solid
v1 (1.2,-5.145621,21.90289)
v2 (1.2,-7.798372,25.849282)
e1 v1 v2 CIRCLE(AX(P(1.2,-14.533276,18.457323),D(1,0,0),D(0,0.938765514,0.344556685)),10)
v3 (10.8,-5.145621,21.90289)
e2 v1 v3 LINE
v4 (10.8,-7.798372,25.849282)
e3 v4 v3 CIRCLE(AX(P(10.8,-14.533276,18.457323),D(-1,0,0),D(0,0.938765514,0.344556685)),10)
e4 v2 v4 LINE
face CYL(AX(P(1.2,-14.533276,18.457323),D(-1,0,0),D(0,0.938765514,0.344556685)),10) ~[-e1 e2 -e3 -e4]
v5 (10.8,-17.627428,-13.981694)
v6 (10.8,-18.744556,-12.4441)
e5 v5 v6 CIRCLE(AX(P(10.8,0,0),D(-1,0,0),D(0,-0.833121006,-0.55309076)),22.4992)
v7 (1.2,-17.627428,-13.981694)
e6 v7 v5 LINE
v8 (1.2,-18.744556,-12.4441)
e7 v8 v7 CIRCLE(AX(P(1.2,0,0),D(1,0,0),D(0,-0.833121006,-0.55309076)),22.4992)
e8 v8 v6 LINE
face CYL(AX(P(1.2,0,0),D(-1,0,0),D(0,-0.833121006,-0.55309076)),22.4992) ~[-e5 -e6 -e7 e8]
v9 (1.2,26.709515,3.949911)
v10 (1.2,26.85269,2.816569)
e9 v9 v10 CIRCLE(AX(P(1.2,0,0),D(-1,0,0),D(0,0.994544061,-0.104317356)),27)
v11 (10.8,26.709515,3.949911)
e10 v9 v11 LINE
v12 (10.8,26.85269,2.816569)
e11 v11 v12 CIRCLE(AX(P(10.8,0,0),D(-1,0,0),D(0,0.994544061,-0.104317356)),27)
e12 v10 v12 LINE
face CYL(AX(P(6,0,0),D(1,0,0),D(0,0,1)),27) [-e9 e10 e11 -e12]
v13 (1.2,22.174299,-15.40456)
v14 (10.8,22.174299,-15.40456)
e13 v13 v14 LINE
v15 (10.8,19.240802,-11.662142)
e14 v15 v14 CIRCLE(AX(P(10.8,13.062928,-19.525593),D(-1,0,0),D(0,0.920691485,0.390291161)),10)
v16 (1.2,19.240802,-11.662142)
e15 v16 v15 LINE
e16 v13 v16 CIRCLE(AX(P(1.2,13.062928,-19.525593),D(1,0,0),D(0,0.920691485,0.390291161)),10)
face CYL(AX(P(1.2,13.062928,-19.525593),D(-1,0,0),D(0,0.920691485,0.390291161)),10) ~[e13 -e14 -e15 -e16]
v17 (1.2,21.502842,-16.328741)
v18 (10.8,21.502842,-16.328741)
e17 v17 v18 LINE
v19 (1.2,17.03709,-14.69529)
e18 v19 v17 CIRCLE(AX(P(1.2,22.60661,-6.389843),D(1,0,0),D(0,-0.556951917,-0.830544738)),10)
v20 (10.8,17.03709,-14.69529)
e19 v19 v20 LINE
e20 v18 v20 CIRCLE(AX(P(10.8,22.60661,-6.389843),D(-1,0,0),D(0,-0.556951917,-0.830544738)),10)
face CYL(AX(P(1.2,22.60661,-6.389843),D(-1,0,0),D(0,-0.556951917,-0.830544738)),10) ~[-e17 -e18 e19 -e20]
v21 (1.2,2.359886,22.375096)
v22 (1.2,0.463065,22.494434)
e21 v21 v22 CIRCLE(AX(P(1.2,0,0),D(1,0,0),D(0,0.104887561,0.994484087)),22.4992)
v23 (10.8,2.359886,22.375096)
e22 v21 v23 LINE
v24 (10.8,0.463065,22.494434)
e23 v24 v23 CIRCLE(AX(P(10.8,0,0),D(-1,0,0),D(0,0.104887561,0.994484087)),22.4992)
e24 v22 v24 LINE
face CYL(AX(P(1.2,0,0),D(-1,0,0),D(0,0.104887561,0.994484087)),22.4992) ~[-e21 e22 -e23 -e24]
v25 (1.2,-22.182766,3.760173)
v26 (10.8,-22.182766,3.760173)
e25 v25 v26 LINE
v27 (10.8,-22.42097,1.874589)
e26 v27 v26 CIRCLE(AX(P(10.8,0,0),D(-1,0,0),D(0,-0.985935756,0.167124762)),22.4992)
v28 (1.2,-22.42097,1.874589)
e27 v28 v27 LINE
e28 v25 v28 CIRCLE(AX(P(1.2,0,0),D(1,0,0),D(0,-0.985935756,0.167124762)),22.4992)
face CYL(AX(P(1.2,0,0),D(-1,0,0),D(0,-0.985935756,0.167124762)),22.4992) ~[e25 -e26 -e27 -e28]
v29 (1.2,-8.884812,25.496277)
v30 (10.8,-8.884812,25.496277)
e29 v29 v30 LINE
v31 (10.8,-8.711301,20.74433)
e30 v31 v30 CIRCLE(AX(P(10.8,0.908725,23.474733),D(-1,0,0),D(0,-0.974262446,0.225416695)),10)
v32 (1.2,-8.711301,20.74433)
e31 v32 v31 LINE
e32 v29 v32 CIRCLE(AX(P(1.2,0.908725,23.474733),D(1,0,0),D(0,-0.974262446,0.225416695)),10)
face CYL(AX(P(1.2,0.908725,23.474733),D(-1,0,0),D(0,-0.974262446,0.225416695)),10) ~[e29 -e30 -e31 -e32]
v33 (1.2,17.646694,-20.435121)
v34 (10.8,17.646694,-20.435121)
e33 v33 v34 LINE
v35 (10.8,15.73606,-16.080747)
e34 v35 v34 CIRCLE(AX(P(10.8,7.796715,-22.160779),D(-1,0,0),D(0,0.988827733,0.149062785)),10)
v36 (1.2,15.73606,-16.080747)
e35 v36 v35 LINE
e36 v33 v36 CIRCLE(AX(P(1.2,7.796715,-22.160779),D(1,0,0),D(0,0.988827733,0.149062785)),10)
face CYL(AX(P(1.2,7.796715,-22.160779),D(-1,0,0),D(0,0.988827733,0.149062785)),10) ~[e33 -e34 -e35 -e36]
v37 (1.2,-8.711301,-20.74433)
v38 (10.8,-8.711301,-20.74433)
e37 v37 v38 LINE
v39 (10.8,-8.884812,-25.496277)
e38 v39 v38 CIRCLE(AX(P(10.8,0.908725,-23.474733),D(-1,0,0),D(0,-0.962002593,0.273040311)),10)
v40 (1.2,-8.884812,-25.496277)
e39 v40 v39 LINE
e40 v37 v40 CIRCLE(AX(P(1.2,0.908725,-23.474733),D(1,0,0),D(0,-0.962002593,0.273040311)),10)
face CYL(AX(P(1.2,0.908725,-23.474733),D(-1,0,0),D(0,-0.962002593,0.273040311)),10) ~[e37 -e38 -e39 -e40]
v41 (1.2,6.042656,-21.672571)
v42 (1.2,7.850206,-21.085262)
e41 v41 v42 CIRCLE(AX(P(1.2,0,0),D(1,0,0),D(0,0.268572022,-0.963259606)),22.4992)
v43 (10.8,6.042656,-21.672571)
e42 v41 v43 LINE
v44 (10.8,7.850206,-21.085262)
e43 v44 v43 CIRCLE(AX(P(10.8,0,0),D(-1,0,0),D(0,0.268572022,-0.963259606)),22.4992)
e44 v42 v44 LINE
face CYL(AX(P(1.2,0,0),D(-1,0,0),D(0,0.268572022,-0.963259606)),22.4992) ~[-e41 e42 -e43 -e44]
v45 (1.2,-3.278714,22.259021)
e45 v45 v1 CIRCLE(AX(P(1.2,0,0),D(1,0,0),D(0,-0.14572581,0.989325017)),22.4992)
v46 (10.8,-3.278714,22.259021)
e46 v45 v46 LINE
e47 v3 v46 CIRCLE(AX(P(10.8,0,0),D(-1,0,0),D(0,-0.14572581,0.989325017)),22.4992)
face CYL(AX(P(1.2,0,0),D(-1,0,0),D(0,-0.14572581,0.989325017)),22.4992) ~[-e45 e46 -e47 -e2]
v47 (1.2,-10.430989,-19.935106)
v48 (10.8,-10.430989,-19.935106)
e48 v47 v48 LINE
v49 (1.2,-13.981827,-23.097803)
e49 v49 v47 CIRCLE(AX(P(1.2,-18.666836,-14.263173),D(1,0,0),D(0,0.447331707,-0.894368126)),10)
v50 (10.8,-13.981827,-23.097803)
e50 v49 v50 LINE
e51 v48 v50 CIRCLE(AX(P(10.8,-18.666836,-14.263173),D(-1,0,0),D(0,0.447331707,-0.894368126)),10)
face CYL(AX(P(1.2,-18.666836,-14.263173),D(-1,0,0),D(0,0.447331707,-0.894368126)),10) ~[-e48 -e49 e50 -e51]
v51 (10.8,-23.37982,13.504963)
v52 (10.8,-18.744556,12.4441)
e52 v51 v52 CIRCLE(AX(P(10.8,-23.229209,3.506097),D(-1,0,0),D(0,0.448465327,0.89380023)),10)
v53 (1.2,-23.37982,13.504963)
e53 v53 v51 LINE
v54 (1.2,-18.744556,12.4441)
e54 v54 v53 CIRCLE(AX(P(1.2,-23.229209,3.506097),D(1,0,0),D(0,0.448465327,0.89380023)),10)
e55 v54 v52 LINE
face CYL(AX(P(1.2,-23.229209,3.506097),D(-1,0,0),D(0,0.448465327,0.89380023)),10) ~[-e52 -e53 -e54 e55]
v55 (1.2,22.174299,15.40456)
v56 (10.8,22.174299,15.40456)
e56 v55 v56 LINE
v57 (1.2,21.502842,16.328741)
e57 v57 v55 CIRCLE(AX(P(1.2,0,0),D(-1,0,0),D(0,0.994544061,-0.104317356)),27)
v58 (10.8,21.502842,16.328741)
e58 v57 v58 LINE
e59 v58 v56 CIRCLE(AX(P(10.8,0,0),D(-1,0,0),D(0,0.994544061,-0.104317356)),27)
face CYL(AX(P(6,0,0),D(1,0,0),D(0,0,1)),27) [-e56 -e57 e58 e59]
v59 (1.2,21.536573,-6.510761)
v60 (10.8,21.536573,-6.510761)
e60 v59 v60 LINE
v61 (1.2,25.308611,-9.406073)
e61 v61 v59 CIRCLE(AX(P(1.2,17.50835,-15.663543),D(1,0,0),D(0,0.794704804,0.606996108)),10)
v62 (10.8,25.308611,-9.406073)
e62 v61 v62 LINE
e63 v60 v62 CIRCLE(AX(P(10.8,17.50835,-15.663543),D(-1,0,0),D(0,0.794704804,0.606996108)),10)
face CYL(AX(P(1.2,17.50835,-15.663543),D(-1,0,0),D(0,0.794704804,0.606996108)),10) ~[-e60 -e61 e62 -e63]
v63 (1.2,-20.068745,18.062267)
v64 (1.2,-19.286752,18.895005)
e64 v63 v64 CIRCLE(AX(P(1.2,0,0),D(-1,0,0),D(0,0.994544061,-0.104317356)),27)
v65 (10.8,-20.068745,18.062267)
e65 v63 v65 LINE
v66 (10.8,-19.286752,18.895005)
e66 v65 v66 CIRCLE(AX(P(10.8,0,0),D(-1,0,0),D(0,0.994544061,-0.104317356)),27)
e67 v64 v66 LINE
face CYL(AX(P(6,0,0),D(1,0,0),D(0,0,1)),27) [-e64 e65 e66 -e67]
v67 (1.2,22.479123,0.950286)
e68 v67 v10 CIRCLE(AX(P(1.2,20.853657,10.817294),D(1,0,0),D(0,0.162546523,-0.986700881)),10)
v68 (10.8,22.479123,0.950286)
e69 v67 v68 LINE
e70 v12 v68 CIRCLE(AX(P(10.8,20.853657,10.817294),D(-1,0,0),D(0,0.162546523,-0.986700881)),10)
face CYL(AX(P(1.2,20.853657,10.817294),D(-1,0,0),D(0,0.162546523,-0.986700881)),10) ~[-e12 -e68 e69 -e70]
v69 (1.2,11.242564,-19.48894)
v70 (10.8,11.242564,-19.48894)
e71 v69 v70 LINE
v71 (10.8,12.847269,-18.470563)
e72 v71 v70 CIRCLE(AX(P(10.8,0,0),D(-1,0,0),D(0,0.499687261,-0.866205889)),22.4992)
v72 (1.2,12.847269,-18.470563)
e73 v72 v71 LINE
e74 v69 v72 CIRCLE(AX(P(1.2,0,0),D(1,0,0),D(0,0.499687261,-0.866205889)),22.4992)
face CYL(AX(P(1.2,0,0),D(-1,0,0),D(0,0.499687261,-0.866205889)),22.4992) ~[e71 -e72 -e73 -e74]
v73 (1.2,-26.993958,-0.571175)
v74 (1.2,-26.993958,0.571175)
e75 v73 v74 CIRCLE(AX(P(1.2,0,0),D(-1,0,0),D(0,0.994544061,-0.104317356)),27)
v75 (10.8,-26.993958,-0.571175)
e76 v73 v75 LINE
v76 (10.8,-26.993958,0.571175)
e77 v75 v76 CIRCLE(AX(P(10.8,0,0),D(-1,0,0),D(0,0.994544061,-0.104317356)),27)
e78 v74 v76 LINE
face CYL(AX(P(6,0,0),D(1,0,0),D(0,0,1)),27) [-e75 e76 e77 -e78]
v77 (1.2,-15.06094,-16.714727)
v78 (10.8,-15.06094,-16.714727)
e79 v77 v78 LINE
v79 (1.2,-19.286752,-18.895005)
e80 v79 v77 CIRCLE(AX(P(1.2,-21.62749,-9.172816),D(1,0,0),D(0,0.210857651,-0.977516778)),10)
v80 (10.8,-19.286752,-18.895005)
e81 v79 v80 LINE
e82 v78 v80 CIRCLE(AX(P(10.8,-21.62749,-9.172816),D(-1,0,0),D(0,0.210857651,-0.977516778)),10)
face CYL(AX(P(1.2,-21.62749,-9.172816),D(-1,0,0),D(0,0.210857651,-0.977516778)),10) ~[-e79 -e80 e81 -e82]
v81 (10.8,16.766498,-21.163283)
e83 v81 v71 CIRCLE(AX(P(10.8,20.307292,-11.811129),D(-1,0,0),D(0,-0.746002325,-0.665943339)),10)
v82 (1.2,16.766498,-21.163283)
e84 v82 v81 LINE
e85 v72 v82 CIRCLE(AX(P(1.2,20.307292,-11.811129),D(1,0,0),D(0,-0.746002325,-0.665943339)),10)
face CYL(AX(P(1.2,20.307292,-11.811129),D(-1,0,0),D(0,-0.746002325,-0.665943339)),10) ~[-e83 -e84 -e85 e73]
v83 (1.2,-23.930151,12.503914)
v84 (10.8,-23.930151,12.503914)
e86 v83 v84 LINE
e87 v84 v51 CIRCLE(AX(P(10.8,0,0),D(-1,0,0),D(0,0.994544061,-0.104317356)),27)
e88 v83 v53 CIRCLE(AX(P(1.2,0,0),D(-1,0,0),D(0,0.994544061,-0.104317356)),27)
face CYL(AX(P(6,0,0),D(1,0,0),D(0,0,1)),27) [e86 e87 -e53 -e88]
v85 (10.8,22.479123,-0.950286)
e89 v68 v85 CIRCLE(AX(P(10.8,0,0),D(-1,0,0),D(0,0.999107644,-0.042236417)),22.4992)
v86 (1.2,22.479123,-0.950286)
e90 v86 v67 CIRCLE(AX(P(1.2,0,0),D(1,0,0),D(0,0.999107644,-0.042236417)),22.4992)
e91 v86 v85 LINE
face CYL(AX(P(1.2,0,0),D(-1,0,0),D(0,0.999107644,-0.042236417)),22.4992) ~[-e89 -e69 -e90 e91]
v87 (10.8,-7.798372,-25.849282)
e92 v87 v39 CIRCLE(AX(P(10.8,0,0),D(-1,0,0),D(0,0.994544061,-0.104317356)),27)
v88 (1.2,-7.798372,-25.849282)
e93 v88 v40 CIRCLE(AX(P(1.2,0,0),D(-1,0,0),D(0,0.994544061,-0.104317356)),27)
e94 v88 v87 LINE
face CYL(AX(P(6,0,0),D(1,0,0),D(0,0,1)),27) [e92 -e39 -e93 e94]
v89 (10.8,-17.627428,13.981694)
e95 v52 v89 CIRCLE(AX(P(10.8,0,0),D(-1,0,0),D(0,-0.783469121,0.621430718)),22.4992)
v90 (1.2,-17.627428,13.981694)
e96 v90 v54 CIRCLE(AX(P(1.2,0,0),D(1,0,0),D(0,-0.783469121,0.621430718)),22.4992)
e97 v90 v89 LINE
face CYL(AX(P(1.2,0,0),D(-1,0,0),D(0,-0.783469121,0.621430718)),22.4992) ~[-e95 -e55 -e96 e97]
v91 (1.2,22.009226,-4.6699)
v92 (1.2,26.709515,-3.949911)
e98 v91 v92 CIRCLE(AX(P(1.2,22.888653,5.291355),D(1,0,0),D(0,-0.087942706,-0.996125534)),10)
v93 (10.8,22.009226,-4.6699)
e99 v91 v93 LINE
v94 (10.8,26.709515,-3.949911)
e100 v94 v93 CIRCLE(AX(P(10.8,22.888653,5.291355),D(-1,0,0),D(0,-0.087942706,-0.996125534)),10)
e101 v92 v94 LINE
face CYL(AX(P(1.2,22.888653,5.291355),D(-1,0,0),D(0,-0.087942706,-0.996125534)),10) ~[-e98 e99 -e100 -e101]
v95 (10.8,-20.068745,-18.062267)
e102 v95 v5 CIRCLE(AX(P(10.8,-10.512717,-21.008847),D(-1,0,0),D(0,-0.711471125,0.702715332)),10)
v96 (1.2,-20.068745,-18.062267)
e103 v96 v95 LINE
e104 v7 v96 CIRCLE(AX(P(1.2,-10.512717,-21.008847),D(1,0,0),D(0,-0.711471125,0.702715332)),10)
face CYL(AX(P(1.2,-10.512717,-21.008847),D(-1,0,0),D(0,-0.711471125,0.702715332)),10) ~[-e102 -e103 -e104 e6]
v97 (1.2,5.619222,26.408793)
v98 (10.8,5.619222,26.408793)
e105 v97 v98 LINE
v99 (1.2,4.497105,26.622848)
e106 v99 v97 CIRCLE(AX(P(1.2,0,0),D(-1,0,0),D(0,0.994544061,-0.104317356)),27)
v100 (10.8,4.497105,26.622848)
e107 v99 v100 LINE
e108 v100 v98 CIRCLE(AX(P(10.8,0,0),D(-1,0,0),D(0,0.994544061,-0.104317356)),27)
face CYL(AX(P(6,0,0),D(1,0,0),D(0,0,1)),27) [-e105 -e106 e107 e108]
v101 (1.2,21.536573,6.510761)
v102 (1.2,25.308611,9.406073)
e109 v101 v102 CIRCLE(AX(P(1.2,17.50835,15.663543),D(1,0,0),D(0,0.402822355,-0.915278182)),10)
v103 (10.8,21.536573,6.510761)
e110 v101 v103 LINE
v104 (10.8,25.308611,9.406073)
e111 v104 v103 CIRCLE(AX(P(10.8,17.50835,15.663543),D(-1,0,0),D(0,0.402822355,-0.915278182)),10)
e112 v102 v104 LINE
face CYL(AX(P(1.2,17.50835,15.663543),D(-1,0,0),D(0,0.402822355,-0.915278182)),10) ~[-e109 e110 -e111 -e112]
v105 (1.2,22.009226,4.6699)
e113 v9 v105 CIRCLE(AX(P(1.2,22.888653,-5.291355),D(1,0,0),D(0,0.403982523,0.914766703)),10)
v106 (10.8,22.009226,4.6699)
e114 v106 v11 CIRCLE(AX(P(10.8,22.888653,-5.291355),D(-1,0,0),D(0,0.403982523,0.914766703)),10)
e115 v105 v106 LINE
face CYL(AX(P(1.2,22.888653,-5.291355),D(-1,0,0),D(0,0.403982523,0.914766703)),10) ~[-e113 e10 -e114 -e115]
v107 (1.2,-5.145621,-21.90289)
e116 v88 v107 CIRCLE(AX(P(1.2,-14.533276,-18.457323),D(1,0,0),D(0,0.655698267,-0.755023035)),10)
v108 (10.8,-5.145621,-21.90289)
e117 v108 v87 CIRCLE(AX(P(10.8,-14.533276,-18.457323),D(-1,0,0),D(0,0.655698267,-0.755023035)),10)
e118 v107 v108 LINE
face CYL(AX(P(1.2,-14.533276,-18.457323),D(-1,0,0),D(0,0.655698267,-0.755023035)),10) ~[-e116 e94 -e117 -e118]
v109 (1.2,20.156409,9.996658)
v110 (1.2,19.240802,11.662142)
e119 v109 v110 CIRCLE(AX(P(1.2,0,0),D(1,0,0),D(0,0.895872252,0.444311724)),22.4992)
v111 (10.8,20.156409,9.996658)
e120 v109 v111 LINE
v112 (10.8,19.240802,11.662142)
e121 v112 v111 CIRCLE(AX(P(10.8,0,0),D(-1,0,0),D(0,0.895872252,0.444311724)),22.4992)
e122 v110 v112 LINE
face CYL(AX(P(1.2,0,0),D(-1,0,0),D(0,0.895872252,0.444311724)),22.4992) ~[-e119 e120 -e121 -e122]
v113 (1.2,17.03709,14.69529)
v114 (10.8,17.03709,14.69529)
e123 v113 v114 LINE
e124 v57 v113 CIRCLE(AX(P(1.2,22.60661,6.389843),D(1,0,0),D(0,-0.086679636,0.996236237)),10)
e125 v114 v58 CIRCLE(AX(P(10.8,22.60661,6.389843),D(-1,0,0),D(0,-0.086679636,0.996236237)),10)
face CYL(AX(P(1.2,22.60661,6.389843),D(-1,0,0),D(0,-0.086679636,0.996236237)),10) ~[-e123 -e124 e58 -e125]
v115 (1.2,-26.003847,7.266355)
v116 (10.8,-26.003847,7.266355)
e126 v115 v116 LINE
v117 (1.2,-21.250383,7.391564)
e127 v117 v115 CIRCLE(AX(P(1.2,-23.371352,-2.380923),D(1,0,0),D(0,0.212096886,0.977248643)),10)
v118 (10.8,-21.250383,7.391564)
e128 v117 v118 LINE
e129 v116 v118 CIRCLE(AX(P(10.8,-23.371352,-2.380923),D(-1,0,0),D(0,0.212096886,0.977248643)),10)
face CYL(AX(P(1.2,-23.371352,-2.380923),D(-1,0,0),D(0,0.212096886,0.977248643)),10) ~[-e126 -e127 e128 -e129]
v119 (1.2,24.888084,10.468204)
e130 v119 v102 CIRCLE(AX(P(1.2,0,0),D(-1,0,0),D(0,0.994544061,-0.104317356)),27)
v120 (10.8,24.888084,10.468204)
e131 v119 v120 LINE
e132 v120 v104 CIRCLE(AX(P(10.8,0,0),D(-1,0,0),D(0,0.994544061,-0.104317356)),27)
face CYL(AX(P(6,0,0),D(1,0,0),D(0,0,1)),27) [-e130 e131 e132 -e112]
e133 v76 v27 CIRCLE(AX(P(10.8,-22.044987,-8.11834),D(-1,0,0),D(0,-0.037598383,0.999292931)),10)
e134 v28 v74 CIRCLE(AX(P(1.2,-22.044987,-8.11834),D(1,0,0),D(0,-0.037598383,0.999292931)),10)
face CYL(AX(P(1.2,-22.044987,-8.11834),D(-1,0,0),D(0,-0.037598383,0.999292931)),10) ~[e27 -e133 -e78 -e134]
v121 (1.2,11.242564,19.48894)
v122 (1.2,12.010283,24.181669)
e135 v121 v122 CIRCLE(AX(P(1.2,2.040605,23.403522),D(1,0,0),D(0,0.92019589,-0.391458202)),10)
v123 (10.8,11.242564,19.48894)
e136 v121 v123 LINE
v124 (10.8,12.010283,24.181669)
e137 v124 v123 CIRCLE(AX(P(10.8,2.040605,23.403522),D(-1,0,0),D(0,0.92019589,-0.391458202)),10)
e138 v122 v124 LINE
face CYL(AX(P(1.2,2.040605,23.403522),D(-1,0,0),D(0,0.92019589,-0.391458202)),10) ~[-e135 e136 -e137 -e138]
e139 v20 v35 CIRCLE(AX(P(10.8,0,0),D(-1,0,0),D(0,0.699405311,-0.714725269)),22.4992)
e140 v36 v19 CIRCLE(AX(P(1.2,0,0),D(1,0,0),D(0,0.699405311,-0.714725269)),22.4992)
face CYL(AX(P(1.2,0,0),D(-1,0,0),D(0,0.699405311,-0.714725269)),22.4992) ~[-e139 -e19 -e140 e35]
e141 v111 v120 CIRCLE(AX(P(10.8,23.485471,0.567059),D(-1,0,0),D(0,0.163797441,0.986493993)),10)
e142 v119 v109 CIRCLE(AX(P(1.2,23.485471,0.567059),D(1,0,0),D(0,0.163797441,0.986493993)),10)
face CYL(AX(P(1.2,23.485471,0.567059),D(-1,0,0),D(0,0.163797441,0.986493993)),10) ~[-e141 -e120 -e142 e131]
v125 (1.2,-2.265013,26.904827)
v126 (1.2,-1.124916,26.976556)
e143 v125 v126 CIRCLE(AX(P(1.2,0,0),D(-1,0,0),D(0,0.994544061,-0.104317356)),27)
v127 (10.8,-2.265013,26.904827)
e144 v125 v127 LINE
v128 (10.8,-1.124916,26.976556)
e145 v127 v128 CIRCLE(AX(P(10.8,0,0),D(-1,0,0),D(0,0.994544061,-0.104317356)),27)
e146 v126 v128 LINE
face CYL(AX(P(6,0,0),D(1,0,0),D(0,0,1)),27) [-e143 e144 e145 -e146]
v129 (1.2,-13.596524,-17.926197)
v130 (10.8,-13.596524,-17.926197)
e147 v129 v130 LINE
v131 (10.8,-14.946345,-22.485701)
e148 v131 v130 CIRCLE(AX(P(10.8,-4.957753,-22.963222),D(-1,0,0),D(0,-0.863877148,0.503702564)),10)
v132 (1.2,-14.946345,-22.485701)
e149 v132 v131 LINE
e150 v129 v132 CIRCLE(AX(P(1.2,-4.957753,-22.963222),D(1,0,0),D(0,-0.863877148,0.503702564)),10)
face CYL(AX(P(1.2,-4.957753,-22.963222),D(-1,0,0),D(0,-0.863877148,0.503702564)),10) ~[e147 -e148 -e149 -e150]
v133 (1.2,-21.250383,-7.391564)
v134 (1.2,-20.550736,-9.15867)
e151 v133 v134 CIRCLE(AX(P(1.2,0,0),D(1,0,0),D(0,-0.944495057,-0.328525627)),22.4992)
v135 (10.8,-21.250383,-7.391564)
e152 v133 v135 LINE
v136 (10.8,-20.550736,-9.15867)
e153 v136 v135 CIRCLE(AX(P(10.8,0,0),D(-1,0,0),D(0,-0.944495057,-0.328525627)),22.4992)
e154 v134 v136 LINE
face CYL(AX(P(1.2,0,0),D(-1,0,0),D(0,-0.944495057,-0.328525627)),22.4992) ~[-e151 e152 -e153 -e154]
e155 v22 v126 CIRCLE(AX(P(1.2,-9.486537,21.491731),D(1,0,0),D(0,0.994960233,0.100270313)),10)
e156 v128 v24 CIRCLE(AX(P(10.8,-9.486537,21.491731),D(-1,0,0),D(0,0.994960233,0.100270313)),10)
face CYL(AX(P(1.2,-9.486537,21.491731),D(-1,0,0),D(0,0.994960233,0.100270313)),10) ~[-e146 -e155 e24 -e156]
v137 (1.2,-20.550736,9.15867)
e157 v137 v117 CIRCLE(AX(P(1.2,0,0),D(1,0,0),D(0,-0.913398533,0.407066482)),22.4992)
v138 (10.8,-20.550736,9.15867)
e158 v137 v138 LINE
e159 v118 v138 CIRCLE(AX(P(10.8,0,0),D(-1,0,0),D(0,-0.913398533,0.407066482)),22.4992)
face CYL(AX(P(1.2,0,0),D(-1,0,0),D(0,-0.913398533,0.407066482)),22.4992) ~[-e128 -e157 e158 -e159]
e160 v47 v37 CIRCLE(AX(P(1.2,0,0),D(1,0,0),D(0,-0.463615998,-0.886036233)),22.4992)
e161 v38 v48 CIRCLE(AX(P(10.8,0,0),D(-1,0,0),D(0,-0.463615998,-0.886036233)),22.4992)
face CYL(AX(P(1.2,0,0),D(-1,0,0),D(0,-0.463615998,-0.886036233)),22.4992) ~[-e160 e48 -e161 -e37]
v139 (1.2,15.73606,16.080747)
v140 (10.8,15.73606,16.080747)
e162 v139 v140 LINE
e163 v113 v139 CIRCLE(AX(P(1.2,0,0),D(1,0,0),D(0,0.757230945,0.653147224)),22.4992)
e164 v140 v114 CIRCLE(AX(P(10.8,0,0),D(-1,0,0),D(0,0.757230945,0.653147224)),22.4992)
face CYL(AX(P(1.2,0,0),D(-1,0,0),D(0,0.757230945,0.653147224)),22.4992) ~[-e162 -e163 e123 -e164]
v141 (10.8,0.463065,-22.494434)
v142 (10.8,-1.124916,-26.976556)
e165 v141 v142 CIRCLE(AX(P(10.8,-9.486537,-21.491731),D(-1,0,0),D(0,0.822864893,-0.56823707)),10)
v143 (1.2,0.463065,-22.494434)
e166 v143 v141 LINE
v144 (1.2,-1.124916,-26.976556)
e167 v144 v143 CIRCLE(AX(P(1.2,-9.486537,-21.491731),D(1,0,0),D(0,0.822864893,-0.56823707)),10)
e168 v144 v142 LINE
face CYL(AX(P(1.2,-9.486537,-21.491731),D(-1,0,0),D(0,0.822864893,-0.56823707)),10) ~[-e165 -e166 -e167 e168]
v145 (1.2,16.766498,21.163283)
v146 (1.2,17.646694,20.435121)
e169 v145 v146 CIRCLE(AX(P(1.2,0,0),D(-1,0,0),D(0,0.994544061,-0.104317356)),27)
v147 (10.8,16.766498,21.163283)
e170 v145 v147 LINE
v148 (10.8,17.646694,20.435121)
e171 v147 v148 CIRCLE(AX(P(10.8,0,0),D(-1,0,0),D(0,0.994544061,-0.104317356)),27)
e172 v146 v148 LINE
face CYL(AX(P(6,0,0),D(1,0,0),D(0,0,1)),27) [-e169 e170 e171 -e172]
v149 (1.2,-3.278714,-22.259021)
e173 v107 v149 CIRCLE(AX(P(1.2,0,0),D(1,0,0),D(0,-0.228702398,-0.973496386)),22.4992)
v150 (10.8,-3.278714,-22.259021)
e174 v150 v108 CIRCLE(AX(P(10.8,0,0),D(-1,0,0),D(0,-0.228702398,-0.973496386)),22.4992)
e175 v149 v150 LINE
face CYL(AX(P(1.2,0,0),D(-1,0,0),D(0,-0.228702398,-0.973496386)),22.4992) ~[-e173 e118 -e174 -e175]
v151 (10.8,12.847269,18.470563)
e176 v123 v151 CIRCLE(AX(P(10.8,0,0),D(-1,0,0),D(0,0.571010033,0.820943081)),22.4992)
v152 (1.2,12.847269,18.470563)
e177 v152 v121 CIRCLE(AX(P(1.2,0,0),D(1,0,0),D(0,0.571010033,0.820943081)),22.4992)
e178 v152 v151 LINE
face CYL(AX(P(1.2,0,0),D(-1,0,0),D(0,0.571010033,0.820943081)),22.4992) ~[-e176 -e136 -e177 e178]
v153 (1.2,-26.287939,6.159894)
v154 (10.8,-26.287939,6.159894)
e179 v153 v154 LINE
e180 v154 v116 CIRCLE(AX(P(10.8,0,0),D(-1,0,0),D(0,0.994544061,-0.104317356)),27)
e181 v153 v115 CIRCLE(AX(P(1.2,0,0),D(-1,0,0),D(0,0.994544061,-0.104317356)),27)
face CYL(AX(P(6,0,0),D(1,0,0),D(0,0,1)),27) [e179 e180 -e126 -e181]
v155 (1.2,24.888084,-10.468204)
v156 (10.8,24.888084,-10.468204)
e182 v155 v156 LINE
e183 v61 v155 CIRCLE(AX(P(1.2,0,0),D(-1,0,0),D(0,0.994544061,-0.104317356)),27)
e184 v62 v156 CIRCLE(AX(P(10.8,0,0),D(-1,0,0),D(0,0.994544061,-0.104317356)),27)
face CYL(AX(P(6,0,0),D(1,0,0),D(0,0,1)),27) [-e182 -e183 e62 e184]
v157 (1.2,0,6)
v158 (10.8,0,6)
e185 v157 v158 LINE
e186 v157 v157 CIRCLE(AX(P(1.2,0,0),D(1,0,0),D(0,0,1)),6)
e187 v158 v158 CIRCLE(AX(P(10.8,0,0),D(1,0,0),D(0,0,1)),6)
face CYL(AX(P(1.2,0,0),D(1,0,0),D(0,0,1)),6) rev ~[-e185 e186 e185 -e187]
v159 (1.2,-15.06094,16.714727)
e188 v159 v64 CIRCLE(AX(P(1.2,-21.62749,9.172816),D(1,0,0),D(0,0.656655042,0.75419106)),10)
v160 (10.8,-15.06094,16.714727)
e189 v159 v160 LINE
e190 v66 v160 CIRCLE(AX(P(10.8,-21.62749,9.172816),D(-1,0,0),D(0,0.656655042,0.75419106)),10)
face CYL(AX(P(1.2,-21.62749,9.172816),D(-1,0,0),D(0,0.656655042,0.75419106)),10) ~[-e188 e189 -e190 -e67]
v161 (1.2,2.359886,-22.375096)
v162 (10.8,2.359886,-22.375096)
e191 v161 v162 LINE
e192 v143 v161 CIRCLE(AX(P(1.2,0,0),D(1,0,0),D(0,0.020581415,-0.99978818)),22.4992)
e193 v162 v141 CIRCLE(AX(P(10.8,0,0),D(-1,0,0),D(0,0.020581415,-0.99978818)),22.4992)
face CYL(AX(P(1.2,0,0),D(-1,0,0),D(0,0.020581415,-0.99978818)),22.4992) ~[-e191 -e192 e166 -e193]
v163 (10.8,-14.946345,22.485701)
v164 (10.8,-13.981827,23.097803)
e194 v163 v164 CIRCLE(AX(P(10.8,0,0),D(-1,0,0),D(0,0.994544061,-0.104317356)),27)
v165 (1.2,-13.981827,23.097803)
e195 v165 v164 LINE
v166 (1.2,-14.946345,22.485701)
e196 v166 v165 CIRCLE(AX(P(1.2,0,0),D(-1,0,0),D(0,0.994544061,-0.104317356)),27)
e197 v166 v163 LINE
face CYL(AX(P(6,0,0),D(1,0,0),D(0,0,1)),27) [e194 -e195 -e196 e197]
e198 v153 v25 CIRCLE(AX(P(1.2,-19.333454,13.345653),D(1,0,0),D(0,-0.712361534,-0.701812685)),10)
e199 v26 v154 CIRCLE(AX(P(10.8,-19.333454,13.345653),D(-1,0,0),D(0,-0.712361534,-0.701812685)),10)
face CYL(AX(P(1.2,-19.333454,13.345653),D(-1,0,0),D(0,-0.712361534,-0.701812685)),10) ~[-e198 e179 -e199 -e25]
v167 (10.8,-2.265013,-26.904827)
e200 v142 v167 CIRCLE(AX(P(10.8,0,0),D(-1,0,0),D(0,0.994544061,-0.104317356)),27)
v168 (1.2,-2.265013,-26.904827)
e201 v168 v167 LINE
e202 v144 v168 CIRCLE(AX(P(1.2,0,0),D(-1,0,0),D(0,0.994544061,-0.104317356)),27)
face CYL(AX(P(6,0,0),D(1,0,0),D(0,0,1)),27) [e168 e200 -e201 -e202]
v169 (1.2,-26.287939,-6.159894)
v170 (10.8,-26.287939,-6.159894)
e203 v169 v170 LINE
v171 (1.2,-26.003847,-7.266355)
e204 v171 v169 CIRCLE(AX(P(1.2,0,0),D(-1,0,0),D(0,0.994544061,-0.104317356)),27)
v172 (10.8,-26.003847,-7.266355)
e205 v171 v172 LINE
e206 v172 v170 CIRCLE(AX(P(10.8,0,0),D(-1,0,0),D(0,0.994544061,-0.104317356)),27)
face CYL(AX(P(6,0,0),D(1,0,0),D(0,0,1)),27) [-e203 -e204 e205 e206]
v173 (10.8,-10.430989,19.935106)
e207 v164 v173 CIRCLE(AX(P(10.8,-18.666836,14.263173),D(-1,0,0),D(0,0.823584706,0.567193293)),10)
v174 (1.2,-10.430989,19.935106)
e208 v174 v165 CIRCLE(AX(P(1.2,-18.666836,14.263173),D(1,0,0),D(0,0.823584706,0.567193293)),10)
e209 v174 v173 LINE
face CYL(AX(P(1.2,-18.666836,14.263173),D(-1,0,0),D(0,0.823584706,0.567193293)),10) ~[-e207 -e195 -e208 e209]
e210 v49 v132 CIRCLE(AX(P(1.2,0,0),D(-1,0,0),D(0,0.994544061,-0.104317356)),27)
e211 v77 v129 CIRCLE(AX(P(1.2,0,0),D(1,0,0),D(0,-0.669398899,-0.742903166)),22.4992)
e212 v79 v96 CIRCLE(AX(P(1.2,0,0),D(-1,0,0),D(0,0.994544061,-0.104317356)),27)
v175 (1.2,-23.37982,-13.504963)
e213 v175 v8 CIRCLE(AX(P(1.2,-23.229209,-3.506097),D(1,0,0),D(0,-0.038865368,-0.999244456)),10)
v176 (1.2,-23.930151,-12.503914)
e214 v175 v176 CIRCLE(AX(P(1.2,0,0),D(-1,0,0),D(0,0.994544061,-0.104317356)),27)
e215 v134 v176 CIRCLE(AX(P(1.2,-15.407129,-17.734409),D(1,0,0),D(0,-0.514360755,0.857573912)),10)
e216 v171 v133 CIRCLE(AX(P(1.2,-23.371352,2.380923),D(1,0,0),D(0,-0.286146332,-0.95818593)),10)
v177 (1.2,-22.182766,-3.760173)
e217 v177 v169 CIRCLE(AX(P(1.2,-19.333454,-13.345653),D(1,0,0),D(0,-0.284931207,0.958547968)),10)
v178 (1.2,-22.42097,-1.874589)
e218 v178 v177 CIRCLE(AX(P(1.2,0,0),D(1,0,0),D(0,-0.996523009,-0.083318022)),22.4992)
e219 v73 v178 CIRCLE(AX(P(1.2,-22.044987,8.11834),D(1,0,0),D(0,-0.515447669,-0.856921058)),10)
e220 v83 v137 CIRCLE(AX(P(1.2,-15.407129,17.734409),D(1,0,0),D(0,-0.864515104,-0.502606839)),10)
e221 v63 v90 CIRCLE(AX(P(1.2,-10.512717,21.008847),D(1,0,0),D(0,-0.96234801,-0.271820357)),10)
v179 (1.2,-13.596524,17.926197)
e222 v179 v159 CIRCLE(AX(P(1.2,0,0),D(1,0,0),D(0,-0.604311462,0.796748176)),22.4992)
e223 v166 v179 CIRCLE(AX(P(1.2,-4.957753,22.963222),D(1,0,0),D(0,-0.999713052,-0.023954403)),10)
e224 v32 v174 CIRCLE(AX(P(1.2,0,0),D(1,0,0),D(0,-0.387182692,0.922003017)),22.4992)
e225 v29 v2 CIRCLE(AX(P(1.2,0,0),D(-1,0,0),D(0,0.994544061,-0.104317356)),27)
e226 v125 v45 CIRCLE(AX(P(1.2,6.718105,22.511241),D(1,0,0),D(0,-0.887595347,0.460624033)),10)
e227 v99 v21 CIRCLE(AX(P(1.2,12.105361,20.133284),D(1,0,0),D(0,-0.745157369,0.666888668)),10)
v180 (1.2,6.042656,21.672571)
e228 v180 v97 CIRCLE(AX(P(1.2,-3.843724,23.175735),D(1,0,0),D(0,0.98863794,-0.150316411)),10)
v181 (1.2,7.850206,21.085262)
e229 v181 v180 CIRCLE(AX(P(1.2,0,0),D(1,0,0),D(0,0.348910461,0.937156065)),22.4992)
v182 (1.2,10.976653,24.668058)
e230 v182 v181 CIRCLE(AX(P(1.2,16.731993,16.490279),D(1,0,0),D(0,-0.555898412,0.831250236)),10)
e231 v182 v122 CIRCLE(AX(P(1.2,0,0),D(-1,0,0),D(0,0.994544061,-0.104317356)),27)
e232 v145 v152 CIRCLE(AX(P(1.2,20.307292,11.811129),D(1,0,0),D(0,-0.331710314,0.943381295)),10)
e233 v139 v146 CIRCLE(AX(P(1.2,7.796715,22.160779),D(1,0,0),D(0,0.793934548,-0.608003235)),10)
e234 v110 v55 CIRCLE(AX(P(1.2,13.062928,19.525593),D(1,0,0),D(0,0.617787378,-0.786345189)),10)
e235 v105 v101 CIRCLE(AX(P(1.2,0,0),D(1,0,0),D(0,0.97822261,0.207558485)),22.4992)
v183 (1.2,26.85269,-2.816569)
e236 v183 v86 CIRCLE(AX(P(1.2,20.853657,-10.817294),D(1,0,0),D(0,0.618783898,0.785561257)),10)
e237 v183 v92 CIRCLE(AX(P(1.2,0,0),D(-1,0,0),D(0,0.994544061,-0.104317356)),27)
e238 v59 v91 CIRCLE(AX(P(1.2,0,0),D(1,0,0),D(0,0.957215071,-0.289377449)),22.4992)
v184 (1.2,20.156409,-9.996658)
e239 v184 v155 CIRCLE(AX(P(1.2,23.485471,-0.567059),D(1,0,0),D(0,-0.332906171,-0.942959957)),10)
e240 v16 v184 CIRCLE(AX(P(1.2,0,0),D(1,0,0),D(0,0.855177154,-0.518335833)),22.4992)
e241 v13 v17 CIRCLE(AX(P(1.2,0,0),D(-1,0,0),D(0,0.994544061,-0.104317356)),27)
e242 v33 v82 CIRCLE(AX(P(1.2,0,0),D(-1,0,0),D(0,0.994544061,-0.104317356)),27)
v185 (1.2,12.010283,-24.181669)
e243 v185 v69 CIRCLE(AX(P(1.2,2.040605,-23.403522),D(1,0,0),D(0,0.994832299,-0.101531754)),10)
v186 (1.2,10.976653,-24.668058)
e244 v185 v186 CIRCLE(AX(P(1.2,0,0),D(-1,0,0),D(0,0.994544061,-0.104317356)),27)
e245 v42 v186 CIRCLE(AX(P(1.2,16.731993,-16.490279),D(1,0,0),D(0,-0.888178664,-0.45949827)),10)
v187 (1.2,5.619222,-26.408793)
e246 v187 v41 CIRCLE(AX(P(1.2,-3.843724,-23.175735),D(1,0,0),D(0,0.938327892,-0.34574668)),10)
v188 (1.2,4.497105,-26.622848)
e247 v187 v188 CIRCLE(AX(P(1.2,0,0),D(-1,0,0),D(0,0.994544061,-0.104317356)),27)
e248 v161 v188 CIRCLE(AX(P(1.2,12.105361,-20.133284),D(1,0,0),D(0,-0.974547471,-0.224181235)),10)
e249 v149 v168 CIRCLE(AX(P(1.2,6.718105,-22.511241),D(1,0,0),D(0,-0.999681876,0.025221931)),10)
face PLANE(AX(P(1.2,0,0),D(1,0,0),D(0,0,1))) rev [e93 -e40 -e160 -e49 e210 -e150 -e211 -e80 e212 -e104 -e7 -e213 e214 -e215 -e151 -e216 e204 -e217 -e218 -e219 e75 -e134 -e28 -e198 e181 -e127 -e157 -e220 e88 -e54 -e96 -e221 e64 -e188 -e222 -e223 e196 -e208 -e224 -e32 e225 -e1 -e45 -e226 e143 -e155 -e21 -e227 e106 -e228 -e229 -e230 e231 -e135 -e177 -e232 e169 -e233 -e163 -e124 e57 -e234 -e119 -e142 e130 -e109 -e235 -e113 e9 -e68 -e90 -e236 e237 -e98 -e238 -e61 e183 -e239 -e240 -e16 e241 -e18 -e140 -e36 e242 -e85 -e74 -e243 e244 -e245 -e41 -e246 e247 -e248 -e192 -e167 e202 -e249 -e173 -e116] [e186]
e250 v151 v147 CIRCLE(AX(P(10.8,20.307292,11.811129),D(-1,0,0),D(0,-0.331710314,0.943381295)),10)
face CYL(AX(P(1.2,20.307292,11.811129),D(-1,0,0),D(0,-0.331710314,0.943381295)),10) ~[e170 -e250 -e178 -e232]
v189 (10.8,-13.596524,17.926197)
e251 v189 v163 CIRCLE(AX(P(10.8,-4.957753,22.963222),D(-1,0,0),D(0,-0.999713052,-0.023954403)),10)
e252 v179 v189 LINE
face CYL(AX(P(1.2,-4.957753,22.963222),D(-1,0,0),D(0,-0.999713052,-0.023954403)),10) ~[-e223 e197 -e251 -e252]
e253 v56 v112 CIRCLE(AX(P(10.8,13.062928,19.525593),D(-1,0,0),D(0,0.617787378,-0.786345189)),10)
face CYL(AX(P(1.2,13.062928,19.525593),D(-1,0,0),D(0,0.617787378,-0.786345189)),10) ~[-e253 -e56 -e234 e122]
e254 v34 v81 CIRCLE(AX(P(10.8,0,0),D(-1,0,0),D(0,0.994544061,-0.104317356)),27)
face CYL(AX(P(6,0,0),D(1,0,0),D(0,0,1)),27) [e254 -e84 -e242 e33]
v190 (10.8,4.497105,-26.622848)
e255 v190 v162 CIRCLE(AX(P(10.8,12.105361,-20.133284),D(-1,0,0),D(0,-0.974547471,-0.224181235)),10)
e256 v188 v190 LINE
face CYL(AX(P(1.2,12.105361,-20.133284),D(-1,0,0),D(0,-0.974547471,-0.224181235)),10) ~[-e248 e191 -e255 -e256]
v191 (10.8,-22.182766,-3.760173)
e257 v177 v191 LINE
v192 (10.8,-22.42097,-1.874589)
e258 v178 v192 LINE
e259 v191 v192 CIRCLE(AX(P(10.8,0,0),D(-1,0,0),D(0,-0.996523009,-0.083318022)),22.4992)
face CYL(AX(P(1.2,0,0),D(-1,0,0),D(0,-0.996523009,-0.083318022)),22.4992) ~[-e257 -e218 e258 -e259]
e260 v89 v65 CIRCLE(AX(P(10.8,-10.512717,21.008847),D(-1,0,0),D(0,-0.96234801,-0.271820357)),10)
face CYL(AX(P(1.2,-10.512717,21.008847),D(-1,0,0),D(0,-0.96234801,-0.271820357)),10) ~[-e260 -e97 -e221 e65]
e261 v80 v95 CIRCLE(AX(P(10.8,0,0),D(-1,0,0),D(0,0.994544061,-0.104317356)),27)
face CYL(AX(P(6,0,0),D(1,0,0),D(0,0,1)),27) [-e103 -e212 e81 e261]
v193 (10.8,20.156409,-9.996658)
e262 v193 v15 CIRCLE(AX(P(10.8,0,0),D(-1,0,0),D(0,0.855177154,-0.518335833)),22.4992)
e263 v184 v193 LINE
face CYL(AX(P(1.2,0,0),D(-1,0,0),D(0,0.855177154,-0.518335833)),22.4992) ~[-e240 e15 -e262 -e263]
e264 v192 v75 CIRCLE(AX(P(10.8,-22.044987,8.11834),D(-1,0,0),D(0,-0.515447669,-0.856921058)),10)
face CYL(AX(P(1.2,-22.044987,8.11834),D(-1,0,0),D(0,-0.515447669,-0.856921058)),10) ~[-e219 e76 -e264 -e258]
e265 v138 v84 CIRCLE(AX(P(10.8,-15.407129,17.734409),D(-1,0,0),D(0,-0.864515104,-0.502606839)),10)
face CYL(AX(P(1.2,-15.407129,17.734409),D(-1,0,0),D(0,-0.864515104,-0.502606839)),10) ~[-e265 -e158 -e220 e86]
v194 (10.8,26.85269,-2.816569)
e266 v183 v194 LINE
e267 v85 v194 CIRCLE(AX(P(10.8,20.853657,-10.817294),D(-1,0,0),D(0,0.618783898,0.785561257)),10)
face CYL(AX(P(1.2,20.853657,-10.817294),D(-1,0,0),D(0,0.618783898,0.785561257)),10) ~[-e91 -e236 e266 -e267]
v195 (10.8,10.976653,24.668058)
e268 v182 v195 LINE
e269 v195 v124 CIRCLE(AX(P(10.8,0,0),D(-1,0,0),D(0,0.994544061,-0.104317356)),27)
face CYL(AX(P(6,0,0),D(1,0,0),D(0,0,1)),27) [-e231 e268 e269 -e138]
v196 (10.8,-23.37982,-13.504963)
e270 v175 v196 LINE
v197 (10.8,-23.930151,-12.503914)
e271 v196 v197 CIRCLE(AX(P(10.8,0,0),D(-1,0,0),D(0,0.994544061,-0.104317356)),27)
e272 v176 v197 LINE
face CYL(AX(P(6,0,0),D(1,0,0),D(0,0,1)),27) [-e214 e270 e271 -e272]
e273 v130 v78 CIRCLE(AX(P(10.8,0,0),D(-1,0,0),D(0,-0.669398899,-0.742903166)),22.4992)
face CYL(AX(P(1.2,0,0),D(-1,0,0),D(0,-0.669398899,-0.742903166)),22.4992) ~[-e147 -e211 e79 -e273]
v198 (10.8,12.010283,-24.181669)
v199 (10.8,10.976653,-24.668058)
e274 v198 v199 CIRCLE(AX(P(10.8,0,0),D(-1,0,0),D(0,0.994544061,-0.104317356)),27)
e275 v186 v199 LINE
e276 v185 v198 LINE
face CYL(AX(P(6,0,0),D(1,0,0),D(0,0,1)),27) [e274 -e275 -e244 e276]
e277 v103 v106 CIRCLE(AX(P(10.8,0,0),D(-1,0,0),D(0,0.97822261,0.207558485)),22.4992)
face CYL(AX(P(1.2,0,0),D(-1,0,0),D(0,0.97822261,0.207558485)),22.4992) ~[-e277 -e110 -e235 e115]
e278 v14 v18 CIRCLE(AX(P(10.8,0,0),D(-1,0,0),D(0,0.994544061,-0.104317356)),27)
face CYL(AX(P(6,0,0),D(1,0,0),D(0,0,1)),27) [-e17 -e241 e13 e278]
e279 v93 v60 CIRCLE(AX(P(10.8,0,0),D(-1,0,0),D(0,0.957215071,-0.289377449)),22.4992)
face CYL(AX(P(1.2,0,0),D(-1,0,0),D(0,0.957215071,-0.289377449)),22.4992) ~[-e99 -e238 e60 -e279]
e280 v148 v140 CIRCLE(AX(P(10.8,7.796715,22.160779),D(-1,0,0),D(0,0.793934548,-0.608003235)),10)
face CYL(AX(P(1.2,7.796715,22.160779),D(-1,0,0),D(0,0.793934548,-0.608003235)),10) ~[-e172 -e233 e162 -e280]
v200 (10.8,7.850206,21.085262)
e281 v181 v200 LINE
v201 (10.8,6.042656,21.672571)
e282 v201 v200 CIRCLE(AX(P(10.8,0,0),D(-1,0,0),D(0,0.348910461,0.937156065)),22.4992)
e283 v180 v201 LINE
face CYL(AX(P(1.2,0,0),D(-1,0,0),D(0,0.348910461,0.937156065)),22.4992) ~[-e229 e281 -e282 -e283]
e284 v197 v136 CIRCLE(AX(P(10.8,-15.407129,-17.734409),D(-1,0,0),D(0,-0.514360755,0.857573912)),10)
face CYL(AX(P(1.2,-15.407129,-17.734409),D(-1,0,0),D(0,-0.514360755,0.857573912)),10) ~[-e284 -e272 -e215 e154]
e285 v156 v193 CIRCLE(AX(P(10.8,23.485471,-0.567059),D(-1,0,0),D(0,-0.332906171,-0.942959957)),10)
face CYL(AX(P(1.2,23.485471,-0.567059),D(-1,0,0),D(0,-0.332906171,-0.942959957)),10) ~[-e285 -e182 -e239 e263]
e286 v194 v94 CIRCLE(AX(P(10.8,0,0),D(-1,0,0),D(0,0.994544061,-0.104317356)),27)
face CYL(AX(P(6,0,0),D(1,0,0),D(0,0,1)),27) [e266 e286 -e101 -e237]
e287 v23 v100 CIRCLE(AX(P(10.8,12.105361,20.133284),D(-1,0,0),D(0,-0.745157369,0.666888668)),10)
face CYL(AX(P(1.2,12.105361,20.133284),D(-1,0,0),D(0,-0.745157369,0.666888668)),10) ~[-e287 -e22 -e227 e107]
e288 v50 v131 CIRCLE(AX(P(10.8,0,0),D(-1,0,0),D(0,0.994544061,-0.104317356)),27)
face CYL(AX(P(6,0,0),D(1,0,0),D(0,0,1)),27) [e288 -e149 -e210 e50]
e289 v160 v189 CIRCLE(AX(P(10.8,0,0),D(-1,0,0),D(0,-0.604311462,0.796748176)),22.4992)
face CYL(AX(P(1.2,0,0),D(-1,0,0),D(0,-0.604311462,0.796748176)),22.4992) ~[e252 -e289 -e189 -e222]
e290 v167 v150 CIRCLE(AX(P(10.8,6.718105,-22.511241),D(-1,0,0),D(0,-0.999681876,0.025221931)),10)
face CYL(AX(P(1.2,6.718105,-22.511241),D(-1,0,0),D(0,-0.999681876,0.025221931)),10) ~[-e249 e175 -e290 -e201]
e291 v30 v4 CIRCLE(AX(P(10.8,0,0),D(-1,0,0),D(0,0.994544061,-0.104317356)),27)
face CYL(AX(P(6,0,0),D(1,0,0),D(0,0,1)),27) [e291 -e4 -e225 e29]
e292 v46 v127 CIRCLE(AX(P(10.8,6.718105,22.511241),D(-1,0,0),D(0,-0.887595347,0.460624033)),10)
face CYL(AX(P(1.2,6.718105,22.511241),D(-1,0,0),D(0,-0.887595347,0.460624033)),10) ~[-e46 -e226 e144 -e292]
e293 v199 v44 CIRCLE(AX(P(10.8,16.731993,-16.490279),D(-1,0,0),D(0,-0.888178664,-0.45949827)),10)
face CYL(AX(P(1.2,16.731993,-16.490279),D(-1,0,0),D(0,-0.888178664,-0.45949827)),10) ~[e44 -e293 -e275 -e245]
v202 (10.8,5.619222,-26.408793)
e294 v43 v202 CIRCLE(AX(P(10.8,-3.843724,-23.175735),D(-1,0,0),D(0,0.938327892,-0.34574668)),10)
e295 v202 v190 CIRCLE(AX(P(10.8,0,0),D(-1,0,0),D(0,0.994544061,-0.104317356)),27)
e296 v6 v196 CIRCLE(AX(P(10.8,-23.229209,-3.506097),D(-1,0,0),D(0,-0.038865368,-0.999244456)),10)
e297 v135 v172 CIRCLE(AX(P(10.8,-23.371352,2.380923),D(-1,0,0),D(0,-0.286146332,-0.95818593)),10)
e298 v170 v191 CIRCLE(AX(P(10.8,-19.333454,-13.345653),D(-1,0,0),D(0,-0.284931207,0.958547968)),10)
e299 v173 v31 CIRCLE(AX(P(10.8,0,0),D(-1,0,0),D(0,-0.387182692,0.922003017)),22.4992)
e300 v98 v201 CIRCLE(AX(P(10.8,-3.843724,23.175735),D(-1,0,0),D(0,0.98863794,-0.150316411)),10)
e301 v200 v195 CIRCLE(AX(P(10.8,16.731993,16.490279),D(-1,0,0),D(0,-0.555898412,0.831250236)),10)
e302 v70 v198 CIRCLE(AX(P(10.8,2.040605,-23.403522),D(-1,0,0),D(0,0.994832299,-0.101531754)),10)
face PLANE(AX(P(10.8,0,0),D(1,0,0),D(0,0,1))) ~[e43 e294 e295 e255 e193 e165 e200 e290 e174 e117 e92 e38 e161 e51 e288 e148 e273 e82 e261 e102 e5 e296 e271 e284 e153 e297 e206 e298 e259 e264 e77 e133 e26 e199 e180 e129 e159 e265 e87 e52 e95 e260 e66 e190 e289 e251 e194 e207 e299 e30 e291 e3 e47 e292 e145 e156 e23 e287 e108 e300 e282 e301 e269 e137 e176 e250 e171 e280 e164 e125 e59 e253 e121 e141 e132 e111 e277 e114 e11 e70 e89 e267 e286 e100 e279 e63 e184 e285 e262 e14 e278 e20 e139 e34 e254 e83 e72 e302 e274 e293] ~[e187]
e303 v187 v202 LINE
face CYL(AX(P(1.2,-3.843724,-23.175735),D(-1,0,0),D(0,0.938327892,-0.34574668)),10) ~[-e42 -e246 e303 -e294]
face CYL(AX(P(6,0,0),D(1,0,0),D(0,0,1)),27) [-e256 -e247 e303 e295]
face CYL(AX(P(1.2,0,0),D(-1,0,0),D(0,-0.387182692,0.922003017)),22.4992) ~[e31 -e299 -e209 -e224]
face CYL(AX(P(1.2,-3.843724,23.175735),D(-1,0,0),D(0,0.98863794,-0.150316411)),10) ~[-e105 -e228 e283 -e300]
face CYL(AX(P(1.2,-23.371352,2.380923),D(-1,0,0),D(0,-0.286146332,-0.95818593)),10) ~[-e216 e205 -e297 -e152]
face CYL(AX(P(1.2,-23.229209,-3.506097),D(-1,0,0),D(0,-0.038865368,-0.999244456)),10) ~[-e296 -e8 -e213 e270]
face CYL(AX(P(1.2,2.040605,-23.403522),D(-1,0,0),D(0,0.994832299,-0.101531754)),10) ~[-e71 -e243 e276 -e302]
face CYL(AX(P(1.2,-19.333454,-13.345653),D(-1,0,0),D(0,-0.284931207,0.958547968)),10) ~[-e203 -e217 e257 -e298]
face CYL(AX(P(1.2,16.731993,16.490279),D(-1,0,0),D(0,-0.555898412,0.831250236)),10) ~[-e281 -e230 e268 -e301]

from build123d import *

# Parameters (mm, degrees)
BASPROSKE_W     = 12
BASPROSKE_H     = 33.75
TOOTHCUT_DEPTH  = 50.21508915
TEETHCUTS_COUNT = 25
TEETHCUTS_ANGLE = 345.6
BORSKE_R        = 7.5
BORE_DEPTH      = 50.000508
SCALE2_SCALE    = 0.8


with BuildPart() as part:
    # BasProSke → Base-Revolve (revolve)
    with BuildSketch(Plane(origin=(0, 0, 0), x_dir=(1, 0, 0), z_dir=(0, 1, 0))):
        with Locations((6, 16.875)):
            Rectangle(BASPROSKE_W, BASPROSKE_H)
    revolve(axis=Axis((-10, 0, 0), (1, 0, 0)))

    # TooCutSke → ToothCut (cut, through all)
    with BuildSketch(Plane(origin=(0, 0, 0), x_dir=(0, 0, -1), z_dir=(1, 0, 0))):
        with BuildLine():
            ThreePointArc((1.187856988, 28.098903391), (0, 28.124), (-1.187856988, 28.098903391))
            ThreePointArc((-1.187856988, 28.098903391), (-2.083835169, 31.109603364), (-3.702102288, 33.801870579))
            ThreePointArc((-3.702102288, 33.801870579), (0, 34.004), (3.702102288, 33.801870579))
            ThreePointArc((3.702102288, 33.801870579), (2.083835169, 31.109603364), (1.187856988, 28.098903391))
        make_face()
    toothcut = extrude(amount=TOOTHCUT_DEPTH, mode=Mode.SUBTRACT)

    # TeethCuts: ToothCut ×25 about axis
    teethcuts_axis = Axis((-10, 0, 0), (1, 0, 0))
    for i in range(1, TEETHCUTS_COUNT):
        add(toothcut.rotate(teethcuts_axis, i * TEETHCUTS_ANGLE / (TEETHCUTS_COUNT - 1)), mode=Mode.SUBTRACT)

    # BorSke → Bore (cut, symmetric)
    with BuildSketch(Plane(origin=(0, 0, 0), x_dir=(0, 0, -1), z_dir=(1, 0, 0))):
        Circle(BORSKE_R)
    extrude(amount=BORE_DEPTH, both=True, mode=Mode.SUBTRACT)


with BuildPart() as part_1:
    # Scale2: scaled about (6, 0, 0)
    add(part.part.scale(SCALE2_SCALE).moved(Location((1.2, 0, 0))))


solid = part_1.part
